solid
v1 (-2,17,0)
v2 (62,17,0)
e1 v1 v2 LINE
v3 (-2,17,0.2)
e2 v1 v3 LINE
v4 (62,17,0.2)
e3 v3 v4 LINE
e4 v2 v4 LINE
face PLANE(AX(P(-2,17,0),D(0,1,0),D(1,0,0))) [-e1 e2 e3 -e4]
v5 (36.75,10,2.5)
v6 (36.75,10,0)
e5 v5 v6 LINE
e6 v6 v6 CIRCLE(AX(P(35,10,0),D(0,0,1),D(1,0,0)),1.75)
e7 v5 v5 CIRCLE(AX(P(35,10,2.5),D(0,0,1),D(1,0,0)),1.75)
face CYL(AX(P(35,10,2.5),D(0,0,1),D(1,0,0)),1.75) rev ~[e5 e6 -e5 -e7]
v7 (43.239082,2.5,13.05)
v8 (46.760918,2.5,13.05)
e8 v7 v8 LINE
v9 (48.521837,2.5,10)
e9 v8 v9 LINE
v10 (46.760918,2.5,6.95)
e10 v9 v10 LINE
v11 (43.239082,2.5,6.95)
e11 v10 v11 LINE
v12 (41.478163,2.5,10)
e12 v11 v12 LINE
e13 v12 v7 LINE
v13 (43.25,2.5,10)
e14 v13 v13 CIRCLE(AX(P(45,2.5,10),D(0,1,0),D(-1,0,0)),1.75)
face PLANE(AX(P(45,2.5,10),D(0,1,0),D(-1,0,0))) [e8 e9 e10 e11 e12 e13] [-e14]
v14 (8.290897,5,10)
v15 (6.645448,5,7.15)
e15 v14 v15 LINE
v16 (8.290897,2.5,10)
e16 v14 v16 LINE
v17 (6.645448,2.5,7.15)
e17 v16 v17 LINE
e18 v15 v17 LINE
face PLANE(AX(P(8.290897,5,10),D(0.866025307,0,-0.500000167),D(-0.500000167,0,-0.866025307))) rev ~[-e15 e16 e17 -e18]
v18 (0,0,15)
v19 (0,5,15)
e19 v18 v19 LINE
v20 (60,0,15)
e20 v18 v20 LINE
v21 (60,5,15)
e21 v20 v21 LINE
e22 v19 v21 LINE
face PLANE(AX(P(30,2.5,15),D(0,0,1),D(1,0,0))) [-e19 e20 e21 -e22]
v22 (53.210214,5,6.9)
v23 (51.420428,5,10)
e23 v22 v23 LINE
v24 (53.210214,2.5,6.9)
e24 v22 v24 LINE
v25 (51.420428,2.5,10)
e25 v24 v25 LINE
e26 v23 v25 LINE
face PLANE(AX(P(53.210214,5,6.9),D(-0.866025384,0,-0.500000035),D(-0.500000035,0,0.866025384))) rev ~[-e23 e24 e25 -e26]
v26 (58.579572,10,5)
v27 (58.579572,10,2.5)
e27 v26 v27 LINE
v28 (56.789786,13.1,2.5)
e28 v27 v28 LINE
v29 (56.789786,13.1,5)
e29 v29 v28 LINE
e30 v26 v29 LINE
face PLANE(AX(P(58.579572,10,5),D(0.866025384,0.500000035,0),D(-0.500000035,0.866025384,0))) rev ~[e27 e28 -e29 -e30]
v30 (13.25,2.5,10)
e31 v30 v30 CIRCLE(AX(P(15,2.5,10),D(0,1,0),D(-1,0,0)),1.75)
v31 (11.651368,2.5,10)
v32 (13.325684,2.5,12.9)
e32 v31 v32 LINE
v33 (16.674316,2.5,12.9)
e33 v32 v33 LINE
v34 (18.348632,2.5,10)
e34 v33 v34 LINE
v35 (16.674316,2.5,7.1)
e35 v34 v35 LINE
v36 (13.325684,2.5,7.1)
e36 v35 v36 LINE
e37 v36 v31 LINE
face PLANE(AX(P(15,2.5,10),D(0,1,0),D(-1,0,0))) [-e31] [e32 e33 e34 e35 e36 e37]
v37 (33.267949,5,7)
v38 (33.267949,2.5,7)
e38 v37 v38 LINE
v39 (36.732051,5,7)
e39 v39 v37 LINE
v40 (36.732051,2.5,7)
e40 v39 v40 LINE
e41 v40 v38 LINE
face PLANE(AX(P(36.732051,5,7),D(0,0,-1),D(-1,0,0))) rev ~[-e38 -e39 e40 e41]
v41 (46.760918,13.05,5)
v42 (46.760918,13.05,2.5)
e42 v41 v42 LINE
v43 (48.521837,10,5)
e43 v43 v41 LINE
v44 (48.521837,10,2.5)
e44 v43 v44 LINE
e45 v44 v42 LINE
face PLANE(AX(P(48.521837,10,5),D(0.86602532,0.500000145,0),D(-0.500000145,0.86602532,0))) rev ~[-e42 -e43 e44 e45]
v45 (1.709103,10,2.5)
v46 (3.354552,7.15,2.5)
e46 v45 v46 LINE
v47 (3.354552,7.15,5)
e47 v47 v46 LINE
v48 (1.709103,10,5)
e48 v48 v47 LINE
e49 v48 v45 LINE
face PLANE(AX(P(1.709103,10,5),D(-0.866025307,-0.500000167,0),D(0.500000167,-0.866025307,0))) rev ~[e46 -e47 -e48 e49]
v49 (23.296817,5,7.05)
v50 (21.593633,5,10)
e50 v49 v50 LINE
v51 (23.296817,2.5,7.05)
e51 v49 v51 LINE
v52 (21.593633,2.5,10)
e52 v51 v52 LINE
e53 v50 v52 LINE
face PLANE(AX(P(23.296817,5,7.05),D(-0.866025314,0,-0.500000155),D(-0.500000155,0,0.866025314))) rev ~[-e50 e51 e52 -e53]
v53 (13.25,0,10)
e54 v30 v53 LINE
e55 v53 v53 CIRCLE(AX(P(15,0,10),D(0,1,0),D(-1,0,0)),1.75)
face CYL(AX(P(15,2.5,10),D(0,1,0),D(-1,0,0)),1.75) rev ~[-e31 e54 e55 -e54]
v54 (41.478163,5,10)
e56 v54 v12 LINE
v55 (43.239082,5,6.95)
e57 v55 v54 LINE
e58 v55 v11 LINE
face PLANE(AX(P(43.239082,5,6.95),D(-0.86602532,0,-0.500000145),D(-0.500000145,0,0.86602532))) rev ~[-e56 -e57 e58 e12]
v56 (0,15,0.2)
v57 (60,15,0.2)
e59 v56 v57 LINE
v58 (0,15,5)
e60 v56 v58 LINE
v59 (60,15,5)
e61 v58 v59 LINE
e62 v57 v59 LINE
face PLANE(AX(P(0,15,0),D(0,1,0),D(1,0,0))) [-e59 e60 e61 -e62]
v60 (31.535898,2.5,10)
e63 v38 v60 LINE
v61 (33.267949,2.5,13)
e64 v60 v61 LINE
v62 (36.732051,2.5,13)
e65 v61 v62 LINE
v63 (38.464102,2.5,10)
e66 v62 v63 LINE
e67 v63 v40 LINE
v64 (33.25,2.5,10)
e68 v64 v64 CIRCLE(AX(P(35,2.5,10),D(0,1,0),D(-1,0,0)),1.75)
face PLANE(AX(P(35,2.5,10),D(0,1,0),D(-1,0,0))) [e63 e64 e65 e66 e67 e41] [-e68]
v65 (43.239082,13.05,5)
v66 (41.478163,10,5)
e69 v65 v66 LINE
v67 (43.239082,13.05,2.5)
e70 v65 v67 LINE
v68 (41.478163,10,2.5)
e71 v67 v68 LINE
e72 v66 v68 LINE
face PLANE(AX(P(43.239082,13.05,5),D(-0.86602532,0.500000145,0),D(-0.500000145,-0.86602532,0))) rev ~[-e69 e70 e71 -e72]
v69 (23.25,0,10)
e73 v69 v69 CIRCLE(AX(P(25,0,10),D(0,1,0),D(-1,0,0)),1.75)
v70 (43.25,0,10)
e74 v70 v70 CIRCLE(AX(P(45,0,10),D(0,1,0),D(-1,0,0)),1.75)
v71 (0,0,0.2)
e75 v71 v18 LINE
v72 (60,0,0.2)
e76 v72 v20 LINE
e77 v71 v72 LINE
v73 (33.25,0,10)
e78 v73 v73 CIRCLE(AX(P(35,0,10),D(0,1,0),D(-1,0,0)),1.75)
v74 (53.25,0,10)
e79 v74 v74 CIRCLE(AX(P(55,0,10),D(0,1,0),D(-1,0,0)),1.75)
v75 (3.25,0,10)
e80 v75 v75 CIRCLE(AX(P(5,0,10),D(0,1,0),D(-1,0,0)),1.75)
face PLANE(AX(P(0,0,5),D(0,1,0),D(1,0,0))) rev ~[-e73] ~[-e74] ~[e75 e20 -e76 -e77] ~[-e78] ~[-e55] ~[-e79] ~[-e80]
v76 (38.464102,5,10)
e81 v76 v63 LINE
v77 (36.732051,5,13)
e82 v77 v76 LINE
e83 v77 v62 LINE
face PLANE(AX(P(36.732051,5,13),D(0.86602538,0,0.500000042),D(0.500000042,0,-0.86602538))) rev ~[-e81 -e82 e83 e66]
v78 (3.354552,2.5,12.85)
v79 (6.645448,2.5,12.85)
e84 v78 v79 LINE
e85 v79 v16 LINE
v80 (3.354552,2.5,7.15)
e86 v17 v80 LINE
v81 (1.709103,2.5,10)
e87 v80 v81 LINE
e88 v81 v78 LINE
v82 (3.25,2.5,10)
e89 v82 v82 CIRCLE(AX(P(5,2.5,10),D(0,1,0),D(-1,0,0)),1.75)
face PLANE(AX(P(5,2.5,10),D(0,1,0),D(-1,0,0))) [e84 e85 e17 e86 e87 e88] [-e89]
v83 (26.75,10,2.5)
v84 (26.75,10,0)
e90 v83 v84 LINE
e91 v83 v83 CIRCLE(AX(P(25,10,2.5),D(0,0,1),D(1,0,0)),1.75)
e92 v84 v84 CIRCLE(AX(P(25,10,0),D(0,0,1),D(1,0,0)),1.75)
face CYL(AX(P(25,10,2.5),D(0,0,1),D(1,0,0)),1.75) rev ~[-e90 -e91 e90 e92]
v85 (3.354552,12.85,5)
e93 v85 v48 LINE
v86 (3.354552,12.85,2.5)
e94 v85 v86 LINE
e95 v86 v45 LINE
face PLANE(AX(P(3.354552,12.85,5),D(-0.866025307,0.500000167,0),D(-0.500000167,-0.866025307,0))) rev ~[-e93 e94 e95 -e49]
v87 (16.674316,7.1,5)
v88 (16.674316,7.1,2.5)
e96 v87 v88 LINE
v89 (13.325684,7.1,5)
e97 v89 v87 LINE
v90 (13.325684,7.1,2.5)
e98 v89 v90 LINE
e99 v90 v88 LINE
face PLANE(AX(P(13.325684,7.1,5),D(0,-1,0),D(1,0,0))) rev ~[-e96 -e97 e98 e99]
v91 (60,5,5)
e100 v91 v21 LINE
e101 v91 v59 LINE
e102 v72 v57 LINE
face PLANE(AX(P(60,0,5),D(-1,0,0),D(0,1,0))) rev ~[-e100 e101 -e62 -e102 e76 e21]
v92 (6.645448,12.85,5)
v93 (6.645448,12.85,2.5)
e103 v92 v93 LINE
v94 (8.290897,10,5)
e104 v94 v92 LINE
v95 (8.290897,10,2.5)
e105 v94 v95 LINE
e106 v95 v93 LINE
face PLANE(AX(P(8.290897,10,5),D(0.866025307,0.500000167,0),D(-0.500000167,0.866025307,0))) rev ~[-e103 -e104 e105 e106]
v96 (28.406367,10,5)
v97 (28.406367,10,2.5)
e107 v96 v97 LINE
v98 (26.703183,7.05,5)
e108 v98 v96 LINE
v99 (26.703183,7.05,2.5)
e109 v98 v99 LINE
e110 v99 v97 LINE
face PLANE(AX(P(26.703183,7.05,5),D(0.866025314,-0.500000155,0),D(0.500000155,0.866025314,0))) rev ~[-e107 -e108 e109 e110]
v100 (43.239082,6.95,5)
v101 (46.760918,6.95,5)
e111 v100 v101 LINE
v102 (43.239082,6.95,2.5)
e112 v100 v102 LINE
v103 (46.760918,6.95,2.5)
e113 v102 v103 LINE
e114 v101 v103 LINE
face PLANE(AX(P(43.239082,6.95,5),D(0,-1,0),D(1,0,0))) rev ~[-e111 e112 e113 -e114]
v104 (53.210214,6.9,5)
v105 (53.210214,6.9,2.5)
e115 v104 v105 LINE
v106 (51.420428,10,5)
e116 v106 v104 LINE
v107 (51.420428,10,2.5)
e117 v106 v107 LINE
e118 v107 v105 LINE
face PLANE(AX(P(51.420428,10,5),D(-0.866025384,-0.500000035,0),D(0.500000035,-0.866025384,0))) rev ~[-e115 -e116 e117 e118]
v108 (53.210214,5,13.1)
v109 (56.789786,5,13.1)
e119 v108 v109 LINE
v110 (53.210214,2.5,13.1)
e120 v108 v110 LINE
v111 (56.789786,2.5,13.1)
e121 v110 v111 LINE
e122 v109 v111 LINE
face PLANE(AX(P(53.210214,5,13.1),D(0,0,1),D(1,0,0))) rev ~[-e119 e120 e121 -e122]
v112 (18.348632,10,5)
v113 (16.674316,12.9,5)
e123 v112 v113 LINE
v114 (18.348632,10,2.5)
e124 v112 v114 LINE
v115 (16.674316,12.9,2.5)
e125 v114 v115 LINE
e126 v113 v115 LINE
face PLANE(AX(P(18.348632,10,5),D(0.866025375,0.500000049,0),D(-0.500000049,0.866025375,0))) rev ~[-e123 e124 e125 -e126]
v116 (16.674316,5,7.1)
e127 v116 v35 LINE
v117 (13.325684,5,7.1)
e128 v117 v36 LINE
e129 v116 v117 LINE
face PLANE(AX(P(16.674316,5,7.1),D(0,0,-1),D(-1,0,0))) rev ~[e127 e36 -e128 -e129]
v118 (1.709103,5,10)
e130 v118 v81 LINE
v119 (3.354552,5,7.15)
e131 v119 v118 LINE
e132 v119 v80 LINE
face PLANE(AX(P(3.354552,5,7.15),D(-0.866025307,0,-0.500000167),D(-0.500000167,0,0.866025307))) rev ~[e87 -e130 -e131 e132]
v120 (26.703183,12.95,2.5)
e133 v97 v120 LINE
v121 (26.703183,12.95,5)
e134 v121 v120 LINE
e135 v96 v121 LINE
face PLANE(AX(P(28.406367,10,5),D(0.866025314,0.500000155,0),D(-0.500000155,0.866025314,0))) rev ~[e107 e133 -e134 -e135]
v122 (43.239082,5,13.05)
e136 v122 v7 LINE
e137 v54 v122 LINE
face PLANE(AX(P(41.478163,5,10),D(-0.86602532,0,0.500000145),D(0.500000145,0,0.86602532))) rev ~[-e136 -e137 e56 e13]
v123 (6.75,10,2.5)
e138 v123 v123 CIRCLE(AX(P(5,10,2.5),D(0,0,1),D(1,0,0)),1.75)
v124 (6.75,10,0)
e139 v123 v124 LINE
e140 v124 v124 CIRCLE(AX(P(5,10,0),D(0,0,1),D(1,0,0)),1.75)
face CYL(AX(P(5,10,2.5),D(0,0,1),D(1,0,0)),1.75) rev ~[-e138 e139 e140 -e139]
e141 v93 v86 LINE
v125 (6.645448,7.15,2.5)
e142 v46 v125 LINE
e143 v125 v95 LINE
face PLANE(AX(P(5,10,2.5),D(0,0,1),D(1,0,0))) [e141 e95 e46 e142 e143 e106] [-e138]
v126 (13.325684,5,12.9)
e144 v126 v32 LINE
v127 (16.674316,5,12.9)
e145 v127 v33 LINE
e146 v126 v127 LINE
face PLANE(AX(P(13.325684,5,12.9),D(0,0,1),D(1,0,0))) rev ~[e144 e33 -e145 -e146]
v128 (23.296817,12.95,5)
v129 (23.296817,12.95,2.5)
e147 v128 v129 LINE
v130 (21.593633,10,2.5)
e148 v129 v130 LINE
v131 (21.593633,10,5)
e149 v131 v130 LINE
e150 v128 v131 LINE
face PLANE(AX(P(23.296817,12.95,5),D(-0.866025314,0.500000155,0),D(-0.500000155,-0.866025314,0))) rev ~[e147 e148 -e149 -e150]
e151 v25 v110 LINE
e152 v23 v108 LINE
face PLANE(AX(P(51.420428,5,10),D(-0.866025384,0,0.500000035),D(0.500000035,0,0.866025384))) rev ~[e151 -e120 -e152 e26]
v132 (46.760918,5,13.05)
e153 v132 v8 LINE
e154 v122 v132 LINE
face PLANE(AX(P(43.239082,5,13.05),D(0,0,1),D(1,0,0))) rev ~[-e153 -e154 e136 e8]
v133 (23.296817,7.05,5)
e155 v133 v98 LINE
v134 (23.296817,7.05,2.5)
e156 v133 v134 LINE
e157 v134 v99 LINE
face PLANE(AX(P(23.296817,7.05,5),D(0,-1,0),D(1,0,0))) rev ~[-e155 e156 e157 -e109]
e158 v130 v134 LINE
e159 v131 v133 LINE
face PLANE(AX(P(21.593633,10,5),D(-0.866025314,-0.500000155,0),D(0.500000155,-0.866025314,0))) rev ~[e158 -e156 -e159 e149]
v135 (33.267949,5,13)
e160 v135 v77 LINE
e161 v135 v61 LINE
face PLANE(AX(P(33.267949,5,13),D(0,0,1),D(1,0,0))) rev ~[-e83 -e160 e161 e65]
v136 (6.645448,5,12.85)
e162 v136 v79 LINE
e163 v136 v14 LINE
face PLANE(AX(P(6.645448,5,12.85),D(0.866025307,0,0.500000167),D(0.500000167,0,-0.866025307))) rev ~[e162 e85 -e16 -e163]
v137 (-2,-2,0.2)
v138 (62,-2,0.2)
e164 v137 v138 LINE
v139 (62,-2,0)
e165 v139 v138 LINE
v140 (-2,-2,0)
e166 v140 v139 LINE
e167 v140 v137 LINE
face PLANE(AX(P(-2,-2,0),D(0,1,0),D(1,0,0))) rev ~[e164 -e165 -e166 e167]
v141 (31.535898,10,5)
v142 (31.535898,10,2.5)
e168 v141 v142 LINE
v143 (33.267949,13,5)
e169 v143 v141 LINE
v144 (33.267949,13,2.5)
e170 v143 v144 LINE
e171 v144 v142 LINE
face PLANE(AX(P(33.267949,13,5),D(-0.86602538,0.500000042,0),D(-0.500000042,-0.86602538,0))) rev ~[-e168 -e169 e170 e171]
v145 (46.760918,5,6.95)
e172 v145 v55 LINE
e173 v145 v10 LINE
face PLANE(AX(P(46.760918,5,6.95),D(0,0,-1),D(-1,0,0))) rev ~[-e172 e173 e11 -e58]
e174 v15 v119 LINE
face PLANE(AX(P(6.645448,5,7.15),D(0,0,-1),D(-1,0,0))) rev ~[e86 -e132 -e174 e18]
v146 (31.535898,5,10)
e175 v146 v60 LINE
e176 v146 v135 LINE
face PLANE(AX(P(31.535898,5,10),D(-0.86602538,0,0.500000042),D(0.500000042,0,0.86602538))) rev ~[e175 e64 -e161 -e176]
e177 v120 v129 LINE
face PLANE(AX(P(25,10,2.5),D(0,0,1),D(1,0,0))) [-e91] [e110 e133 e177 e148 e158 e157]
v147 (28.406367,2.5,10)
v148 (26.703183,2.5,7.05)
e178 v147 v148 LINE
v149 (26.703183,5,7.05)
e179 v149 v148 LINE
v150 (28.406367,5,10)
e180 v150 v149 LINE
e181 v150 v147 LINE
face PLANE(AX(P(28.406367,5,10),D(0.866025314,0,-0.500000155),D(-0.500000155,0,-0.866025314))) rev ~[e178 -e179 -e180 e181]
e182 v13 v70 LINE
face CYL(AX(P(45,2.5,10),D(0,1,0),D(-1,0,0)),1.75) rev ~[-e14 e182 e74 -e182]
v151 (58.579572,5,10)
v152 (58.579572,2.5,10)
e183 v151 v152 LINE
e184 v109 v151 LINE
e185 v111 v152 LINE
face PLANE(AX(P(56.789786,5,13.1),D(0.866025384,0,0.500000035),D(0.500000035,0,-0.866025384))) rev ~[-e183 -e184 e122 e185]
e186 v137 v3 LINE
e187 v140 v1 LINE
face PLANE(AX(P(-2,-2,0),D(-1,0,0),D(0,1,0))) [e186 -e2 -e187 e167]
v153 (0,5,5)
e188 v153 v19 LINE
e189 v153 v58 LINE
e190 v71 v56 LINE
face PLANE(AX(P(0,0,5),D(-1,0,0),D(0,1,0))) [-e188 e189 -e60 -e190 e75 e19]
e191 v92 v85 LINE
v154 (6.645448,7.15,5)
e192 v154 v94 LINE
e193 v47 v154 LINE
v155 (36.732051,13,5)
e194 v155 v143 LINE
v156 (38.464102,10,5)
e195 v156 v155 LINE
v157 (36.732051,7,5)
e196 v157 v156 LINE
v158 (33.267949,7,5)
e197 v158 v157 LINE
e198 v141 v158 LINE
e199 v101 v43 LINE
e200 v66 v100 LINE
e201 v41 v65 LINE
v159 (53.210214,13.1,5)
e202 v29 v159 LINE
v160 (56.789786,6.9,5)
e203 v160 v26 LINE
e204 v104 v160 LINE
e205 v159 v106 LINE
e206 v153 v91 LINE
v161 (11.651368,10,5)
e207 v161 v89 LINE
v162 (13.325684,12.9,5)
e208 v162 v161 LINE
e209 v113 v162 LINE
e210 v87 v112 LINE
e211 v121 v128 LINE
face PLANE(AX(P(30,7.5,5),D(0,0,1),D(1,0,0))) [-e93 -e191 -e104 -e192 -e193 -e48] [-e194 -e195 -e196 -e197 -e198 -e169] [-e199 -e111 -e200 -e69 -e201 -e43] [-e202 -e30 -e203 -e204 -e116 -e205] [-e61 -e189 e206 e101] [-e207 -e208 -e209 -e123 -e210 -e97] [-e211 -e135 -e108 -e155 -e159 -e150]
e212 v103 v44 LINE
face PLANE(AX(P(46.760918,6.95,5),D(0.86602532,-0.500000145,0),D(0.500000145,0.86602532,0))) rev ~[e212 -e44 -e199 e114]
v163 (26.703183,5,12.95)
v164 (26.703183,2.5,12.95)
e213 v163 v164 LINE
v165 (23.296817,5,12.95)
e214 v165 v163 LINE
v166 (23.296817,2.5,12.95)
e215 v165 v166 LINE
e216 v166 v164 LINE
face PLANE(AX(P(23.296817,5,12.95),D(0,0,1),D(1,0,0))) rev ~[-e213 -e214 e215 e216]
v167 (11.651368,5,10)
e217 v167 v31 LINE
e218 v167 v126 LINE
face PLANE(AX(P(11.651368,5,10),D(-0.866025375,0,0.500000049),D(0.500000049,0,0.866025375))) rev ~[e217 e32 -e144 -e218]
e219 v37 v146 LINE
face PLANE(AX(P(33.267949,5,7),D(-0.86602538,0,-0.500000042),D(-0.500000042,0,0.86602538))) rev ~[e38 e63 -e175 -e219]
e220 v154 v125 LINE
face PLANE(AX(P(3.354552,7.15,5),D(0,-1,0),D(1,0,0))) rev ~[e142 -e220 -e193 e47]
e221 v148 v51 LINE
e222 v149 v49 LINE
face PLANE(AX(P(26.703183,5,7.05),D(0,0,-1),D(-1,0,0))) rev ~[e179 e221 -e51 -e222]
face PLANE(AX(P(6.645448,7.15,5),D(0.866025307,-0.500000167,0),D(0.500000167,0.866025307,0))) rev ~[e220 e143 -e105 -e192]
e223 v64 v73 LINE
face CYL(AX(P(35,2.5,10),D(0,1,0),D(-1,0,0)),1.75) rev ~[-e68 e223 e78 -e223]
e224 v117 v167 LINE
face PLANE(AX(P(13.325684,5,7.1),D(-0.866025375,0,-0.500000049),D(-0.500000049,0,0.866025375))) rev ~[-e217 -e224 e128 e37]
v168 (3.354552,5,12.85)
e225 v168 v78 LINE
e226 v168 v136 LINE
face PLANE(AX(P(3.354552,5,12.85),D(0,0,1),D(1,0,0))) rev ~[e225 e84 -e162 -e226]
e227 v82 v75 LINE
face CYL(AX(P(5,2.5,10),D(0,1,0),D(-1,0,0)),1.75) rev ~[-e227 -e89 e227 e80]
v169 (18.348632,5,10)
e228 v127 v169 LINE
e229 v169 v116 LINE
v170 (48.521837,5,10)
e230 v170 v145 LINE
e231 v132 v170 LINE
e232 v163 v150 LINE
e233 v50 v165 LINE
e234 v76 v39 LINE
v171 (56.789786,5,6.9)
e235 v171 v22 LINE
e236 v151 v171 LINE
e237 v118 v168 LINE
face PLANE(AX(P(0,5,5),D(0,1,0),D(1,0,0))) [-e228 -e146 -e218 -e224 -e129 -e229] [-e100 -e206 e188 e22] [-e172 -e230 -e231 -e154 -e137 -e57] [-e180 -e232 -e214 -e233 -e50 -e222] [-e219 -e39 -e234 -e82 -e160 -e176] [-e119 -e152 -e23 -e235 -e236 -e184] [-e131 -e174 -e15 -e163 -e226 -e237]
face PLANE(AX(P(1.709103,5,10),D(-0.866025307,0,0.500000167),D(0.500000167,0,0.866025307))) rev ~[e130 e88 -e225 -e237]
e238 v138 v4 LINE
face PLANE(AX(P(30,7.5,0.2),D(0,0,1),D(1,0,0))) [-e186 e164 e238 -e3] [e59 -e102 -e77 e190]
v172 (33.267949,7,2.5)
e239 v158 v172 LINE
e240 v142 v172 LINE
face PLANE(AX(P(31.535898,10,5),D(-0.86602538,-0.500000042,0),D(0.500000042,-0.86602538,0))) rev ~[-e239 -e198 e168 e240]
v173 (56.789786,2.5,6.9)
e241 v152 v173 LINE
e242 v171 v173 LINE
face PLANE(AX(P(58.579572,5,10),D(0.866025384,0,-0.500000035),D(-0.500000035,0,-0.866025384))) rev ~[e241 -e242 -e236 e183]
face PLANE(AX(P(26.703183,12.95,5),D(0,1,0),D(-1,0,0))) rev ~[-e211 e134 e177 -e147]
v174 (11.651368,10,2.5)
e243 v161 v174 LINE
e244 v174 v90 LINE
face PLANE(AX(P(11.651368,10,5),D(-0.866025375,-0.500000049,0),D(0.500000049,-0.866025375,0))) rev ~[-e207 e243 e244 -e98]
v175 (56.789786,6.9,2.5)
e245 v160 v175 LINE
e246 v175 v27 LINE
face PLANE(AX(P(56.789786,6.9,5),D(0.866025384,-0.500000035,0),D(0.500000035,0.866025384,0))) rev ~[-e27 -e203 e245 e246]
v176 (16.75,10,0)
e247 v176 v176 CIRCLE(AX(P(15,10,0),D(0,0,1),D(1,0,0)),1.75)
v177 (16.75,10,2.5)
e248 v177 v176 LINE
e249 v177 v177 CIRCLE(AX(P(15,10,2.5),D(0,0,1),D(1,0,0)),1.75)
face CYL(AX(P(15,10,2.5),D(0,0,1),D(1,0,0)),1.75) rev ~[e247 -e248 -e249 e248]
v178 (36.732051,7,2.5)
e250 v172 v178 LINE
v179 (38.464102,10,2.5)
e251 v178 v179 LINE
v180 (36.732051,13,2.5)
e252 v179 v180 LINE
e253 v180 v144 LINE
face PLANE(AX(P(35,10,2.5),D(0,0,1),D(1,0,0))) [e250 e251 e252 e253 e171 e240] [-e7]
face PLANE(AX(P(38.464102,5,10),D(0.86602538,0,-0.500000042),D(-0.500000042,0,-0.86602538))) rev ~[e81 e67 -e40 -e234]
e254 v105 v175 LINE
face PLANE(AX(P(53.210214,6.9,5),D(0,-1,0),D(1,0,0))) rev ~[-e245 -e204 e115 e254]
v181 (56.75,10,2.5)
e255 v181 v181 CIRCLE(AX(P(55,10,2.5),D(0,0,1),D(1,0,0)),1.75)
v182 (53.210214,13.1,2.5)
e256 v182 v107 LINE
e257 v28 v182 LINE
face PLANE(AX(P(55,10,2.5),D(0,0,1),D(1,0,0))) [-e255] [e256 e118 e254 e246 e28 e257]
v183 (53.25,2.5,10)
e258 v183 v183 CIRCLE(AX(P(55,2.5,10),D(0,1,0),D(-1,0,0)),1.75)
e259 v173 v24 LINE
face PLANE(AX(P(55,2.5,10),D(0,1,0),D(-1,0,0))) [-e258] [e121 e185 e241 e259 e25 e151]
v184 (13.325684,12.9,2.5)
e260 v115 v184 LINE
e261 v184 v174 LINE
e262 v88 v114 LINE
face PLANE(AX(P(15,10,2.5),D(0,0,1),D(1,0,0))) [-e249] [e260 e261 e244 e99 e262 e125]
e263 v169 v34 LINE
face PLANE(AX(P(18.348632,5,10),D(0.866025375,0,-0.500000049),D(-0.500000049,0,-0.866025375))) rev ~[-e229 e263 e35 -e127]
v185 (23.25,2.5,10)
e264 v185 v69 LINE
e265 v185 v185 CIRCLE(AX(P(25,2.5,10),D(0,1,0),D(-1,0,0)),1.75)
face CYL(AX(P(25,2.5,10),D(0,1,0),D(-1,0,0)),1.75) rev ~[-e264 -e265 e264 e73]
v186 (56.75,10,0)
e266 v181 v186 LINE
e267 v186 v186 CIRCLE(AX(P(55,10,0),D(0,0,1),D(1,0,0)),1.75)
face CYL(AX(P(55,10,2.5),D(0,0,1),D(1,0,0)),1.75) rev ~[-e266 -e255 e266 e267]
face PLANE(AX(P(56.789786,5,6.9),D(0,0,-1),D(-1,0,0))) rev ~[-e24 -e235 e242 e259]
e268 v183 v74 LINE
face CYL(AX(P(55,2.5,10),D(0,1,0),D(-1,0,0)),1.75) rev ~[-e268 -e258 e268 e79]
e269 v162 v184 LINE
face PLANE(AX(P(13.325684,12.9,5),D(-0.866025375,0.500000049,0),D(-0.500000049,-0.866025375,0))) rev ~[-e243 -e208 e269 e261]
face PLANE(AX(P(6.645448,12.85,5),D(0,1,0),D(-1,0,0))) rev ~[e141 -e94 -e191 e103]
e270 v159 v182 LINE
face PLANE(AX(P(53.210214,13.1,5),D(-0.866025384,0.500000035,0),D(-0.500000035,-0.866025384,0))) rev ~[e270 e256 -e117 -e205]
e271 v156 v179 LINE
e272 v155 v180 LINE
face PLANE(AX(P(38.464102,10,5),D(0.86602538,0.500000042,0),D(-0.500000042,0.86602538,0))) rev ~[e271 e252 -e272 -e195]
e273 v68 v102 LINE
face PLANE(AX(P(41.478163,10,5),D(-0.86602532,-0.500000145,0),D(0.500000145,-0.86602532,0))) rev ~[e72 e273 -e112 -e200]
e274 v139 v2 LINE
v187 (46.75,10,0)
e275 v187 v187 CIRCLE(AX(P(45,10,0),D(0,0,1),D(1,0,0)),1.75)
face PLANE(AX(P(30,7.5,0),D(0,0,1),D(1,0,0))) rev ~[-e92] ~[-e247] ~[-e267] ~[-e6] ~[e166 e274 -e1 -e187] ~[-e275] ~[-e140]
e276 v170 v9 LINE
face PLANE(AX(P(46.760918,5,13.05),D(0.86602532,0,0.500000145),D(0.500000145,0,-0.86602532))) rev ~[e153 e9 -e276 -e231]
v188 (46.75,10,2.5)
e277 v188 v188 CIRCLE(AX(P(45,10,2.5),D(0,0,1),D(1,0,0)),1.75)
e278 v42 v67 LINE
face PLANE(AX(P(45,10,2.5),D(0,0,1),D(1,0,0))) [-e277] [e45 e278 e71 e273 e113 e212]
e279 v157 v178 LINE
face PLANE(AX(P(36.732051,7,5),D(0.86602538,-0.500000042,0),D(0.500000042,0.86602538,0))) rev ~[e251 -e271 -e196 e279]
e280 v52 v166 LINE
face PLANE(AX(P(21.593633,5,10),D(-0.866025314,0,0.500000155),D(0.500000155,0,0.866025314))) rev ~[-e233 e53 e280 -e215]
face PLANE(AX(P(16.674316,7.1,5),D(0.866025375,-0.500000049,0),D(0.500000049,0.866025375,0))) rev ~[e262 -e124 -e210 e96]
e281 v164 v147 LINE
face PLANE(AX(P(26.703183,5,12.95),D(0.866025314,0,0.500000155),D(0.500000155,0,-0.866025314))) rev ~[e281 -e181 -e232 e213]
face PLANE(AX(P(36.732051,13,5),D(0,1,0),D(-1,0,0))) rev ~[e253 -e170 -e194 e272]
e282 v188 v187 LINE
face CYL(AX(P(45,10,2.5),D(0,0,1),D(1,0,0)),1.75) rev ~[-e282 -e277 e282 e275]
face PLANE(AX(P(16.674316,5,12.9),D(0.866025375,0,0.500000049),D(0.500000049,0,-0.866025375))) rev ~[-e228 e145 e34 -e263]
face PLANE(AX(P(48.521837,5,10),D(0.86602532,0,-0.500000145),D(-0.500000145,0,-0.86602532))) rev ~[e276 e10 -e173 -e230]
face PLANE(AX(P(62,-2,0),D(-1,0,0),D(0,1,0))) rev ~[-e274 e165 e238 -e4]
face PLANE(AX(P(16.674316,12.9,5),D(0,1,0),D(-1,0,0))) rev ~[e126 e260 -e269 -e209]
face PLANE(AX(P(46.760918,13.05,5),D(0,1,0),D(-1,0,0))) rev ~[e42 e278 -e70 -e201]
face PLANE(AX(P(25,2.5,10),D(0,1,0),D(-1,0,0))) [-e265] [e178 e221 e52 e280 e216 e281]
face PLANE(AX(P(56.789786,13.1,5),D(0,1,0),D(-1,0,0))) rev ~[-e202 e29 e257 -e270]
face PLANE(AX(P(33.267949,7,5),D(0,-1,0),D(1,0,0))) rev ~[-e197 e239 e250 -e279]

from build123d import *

# Parameters (mm, degrees)
F0_W      = 60
F0_H      = 15
F1_DEPTH  = 5
F2_W      = 60
F2_H      = 5
F3_DEPTH  = 10
F5_DEPTH  = 2.5
F6_R      = 1.75
F7_DEPTH  = 2.5
F9_DEPTH  = 2.5
F10_R     = 1.75
F11_DEPTH = 2.5
F12_W     = 64
F12_H     = 19
F12_W_2   = 60
F12_H_2   = 15
F13_DEPTH = 0.2


with BuildPart() as f1:
    # F0 (on Top) → F1 (new body)
    with BuildSketch(Plane.XY):
        with Locations((30, 7.5)):
            Rectangle(F0_W, F0_H)
    extrude(amount=F1_DEPTH)

    # F2 (on face) → F3 (join)
    with BuildSketch(Plane.XY.offset(5)):
        with Locations((30, 2.5)):
            Rectangle(F2_W, F2_H)
    extrude(amount=F3_DEPTH)

    # F4 (on face) → F5 (cut)
    with BuildSketch(Plane.XY.offset(5)):
        Polygon((8.290897, 10), (6.645448, 12.85), (3.354552, 12.85), (1.709103, 10), (3.354552, 7.15), (6.645448, 7.15), align=None)
        Polygon((18.348632, 10), (16.674316, 12.9), (13.325684, 12.9), (11.651368, 10), (13.325684, 7.1), (16.674316, 7.1), align=None)
        Polygon((28.406367, 10), (26.703183, 12.95), (23.296817, 12.95), (21.593633, 10), (23.296817, 7.05), (26.703183, 7.05), align=None)
        Polygon((38.464102, 10), (36.732051, 13), (33.267949, 13), (31.535898, 10), (33.267949, 7), (36.732051, 7), align=None)
        Polygon((46.760918, 13.05), (43.239082, 13.05), (41.478163, 10), (43.239082, 6.95), (46.760918, 6.95), (48.521837, 10), align=None)
        Polygon((58.579572, 10), (56.789786, 13.1), (53.210214, 13.1), (51.420428, 10), (53.210214, 6.9), (56.789786, 6.9), align=None)
    extrude(amount=-F5_DEPTH, mode=Mode.SUBTRACT)

    # F6 (on face) → F7 (cut, through all)
    with BuildSketch(Plane.XY.offset(2.5)):
        with Locations((5, 10)):
            Circle(F6_R)
        with Locations((15, 10)):
            Circle(F6_R)
        with Locations((25, 10)):
            Circle(F6_R)
        with Locations((35, 10)):
            Circle(F6_R)
        with Locations((45, 10)):
            Circle(F6_R)
        with Locations((55, 10)):
            Circle(F6_R)
    extrude(amount=-F7_DEPTH, mode=Mode.SUBTRACT)

    # F8 (on face) → F9 (cut)
    with BuildSketch(Plane(origin=(0, 5, 0), x_dir=(-1, 0, 0), z_dir=(0, 1, 0))):
        Polygon((-51.420428, 10), (-53.210214, 13.1), (-56.789786, 13.1), (-58.579572, 10), (-56.789786, 6.9), (-53.210214, 6.9), align=None)
        Polygon((-43.239082, 13.05), (-46.760918, 13.05), (-48.521837, 10), (-46.760918, 6.95), (-43.239082, 6.95), (-41.478163, 10), align=None)
        Polygon((-33.267949, 13), (-36.732051, 13), (-38.464102, 10), (-36.732051, 7), (-33.267949, 7), (-31.535898, 10), align=None)
        Polygon((-23.296817, 12.95), (-26.703183, 12.95), (-28.406367, 10), (-26.703183, 7.05), (-23.296817, 7.05), (-21.593633, 10), align=None)
        Polygon((-13.325684, 12.9), (-16.674316, 12.9), (-18.348632, 10), (-16.674316, 7.1), (-13.325684, 7.1), (-11.651368, 10), align=None)
        Polygon((-1.709103, 10), (-3.354552, 12.85), (-6.645448, 12.85), (-8.290897, 10), (-6.645448, 7.15), (-3.354552, 7.15), align=None)
    extrude(amount=-F9_DEPTH, mode=Mode.SUBTRACT)

    # F10 (on face) → F11 (cut, through all)
    with BuildSketch(Plane(origin=(0, 2.5, 0), x_dir=(-1, 0, 0), z_dir=(0, 1, 0))):
        with Locations((-55, 10)):
            Circle(F10_R)
        with Locations((-45, 10)):
            Circle(F10_R)
        with Locations((-35, 10)):
            Circle(F10_R)
        with Locations((-25, 10)):
            Circle(F10_R)
        with Locations((-15, 10)):
            Circle(F10_R)
        with Locations((-5, 10)):
            Circle(F10_R)
    extrude(amount=-F11_DEPTH, mode=Mode.SUBTRACT)

    # F12 (on Top) → F13 (join)
    with BuildSketch(Plane.XY):
        with Locations((30, 7.5)):
            Rectangle(F12_W, F12_H)
        with Locations((30, 7.5)):
            Rectangle(F12_W_2, F12_H_2, mode=Mode.SUBTRACT)
    extrude(amount=F13_DEPTH)


solid = f1.part
